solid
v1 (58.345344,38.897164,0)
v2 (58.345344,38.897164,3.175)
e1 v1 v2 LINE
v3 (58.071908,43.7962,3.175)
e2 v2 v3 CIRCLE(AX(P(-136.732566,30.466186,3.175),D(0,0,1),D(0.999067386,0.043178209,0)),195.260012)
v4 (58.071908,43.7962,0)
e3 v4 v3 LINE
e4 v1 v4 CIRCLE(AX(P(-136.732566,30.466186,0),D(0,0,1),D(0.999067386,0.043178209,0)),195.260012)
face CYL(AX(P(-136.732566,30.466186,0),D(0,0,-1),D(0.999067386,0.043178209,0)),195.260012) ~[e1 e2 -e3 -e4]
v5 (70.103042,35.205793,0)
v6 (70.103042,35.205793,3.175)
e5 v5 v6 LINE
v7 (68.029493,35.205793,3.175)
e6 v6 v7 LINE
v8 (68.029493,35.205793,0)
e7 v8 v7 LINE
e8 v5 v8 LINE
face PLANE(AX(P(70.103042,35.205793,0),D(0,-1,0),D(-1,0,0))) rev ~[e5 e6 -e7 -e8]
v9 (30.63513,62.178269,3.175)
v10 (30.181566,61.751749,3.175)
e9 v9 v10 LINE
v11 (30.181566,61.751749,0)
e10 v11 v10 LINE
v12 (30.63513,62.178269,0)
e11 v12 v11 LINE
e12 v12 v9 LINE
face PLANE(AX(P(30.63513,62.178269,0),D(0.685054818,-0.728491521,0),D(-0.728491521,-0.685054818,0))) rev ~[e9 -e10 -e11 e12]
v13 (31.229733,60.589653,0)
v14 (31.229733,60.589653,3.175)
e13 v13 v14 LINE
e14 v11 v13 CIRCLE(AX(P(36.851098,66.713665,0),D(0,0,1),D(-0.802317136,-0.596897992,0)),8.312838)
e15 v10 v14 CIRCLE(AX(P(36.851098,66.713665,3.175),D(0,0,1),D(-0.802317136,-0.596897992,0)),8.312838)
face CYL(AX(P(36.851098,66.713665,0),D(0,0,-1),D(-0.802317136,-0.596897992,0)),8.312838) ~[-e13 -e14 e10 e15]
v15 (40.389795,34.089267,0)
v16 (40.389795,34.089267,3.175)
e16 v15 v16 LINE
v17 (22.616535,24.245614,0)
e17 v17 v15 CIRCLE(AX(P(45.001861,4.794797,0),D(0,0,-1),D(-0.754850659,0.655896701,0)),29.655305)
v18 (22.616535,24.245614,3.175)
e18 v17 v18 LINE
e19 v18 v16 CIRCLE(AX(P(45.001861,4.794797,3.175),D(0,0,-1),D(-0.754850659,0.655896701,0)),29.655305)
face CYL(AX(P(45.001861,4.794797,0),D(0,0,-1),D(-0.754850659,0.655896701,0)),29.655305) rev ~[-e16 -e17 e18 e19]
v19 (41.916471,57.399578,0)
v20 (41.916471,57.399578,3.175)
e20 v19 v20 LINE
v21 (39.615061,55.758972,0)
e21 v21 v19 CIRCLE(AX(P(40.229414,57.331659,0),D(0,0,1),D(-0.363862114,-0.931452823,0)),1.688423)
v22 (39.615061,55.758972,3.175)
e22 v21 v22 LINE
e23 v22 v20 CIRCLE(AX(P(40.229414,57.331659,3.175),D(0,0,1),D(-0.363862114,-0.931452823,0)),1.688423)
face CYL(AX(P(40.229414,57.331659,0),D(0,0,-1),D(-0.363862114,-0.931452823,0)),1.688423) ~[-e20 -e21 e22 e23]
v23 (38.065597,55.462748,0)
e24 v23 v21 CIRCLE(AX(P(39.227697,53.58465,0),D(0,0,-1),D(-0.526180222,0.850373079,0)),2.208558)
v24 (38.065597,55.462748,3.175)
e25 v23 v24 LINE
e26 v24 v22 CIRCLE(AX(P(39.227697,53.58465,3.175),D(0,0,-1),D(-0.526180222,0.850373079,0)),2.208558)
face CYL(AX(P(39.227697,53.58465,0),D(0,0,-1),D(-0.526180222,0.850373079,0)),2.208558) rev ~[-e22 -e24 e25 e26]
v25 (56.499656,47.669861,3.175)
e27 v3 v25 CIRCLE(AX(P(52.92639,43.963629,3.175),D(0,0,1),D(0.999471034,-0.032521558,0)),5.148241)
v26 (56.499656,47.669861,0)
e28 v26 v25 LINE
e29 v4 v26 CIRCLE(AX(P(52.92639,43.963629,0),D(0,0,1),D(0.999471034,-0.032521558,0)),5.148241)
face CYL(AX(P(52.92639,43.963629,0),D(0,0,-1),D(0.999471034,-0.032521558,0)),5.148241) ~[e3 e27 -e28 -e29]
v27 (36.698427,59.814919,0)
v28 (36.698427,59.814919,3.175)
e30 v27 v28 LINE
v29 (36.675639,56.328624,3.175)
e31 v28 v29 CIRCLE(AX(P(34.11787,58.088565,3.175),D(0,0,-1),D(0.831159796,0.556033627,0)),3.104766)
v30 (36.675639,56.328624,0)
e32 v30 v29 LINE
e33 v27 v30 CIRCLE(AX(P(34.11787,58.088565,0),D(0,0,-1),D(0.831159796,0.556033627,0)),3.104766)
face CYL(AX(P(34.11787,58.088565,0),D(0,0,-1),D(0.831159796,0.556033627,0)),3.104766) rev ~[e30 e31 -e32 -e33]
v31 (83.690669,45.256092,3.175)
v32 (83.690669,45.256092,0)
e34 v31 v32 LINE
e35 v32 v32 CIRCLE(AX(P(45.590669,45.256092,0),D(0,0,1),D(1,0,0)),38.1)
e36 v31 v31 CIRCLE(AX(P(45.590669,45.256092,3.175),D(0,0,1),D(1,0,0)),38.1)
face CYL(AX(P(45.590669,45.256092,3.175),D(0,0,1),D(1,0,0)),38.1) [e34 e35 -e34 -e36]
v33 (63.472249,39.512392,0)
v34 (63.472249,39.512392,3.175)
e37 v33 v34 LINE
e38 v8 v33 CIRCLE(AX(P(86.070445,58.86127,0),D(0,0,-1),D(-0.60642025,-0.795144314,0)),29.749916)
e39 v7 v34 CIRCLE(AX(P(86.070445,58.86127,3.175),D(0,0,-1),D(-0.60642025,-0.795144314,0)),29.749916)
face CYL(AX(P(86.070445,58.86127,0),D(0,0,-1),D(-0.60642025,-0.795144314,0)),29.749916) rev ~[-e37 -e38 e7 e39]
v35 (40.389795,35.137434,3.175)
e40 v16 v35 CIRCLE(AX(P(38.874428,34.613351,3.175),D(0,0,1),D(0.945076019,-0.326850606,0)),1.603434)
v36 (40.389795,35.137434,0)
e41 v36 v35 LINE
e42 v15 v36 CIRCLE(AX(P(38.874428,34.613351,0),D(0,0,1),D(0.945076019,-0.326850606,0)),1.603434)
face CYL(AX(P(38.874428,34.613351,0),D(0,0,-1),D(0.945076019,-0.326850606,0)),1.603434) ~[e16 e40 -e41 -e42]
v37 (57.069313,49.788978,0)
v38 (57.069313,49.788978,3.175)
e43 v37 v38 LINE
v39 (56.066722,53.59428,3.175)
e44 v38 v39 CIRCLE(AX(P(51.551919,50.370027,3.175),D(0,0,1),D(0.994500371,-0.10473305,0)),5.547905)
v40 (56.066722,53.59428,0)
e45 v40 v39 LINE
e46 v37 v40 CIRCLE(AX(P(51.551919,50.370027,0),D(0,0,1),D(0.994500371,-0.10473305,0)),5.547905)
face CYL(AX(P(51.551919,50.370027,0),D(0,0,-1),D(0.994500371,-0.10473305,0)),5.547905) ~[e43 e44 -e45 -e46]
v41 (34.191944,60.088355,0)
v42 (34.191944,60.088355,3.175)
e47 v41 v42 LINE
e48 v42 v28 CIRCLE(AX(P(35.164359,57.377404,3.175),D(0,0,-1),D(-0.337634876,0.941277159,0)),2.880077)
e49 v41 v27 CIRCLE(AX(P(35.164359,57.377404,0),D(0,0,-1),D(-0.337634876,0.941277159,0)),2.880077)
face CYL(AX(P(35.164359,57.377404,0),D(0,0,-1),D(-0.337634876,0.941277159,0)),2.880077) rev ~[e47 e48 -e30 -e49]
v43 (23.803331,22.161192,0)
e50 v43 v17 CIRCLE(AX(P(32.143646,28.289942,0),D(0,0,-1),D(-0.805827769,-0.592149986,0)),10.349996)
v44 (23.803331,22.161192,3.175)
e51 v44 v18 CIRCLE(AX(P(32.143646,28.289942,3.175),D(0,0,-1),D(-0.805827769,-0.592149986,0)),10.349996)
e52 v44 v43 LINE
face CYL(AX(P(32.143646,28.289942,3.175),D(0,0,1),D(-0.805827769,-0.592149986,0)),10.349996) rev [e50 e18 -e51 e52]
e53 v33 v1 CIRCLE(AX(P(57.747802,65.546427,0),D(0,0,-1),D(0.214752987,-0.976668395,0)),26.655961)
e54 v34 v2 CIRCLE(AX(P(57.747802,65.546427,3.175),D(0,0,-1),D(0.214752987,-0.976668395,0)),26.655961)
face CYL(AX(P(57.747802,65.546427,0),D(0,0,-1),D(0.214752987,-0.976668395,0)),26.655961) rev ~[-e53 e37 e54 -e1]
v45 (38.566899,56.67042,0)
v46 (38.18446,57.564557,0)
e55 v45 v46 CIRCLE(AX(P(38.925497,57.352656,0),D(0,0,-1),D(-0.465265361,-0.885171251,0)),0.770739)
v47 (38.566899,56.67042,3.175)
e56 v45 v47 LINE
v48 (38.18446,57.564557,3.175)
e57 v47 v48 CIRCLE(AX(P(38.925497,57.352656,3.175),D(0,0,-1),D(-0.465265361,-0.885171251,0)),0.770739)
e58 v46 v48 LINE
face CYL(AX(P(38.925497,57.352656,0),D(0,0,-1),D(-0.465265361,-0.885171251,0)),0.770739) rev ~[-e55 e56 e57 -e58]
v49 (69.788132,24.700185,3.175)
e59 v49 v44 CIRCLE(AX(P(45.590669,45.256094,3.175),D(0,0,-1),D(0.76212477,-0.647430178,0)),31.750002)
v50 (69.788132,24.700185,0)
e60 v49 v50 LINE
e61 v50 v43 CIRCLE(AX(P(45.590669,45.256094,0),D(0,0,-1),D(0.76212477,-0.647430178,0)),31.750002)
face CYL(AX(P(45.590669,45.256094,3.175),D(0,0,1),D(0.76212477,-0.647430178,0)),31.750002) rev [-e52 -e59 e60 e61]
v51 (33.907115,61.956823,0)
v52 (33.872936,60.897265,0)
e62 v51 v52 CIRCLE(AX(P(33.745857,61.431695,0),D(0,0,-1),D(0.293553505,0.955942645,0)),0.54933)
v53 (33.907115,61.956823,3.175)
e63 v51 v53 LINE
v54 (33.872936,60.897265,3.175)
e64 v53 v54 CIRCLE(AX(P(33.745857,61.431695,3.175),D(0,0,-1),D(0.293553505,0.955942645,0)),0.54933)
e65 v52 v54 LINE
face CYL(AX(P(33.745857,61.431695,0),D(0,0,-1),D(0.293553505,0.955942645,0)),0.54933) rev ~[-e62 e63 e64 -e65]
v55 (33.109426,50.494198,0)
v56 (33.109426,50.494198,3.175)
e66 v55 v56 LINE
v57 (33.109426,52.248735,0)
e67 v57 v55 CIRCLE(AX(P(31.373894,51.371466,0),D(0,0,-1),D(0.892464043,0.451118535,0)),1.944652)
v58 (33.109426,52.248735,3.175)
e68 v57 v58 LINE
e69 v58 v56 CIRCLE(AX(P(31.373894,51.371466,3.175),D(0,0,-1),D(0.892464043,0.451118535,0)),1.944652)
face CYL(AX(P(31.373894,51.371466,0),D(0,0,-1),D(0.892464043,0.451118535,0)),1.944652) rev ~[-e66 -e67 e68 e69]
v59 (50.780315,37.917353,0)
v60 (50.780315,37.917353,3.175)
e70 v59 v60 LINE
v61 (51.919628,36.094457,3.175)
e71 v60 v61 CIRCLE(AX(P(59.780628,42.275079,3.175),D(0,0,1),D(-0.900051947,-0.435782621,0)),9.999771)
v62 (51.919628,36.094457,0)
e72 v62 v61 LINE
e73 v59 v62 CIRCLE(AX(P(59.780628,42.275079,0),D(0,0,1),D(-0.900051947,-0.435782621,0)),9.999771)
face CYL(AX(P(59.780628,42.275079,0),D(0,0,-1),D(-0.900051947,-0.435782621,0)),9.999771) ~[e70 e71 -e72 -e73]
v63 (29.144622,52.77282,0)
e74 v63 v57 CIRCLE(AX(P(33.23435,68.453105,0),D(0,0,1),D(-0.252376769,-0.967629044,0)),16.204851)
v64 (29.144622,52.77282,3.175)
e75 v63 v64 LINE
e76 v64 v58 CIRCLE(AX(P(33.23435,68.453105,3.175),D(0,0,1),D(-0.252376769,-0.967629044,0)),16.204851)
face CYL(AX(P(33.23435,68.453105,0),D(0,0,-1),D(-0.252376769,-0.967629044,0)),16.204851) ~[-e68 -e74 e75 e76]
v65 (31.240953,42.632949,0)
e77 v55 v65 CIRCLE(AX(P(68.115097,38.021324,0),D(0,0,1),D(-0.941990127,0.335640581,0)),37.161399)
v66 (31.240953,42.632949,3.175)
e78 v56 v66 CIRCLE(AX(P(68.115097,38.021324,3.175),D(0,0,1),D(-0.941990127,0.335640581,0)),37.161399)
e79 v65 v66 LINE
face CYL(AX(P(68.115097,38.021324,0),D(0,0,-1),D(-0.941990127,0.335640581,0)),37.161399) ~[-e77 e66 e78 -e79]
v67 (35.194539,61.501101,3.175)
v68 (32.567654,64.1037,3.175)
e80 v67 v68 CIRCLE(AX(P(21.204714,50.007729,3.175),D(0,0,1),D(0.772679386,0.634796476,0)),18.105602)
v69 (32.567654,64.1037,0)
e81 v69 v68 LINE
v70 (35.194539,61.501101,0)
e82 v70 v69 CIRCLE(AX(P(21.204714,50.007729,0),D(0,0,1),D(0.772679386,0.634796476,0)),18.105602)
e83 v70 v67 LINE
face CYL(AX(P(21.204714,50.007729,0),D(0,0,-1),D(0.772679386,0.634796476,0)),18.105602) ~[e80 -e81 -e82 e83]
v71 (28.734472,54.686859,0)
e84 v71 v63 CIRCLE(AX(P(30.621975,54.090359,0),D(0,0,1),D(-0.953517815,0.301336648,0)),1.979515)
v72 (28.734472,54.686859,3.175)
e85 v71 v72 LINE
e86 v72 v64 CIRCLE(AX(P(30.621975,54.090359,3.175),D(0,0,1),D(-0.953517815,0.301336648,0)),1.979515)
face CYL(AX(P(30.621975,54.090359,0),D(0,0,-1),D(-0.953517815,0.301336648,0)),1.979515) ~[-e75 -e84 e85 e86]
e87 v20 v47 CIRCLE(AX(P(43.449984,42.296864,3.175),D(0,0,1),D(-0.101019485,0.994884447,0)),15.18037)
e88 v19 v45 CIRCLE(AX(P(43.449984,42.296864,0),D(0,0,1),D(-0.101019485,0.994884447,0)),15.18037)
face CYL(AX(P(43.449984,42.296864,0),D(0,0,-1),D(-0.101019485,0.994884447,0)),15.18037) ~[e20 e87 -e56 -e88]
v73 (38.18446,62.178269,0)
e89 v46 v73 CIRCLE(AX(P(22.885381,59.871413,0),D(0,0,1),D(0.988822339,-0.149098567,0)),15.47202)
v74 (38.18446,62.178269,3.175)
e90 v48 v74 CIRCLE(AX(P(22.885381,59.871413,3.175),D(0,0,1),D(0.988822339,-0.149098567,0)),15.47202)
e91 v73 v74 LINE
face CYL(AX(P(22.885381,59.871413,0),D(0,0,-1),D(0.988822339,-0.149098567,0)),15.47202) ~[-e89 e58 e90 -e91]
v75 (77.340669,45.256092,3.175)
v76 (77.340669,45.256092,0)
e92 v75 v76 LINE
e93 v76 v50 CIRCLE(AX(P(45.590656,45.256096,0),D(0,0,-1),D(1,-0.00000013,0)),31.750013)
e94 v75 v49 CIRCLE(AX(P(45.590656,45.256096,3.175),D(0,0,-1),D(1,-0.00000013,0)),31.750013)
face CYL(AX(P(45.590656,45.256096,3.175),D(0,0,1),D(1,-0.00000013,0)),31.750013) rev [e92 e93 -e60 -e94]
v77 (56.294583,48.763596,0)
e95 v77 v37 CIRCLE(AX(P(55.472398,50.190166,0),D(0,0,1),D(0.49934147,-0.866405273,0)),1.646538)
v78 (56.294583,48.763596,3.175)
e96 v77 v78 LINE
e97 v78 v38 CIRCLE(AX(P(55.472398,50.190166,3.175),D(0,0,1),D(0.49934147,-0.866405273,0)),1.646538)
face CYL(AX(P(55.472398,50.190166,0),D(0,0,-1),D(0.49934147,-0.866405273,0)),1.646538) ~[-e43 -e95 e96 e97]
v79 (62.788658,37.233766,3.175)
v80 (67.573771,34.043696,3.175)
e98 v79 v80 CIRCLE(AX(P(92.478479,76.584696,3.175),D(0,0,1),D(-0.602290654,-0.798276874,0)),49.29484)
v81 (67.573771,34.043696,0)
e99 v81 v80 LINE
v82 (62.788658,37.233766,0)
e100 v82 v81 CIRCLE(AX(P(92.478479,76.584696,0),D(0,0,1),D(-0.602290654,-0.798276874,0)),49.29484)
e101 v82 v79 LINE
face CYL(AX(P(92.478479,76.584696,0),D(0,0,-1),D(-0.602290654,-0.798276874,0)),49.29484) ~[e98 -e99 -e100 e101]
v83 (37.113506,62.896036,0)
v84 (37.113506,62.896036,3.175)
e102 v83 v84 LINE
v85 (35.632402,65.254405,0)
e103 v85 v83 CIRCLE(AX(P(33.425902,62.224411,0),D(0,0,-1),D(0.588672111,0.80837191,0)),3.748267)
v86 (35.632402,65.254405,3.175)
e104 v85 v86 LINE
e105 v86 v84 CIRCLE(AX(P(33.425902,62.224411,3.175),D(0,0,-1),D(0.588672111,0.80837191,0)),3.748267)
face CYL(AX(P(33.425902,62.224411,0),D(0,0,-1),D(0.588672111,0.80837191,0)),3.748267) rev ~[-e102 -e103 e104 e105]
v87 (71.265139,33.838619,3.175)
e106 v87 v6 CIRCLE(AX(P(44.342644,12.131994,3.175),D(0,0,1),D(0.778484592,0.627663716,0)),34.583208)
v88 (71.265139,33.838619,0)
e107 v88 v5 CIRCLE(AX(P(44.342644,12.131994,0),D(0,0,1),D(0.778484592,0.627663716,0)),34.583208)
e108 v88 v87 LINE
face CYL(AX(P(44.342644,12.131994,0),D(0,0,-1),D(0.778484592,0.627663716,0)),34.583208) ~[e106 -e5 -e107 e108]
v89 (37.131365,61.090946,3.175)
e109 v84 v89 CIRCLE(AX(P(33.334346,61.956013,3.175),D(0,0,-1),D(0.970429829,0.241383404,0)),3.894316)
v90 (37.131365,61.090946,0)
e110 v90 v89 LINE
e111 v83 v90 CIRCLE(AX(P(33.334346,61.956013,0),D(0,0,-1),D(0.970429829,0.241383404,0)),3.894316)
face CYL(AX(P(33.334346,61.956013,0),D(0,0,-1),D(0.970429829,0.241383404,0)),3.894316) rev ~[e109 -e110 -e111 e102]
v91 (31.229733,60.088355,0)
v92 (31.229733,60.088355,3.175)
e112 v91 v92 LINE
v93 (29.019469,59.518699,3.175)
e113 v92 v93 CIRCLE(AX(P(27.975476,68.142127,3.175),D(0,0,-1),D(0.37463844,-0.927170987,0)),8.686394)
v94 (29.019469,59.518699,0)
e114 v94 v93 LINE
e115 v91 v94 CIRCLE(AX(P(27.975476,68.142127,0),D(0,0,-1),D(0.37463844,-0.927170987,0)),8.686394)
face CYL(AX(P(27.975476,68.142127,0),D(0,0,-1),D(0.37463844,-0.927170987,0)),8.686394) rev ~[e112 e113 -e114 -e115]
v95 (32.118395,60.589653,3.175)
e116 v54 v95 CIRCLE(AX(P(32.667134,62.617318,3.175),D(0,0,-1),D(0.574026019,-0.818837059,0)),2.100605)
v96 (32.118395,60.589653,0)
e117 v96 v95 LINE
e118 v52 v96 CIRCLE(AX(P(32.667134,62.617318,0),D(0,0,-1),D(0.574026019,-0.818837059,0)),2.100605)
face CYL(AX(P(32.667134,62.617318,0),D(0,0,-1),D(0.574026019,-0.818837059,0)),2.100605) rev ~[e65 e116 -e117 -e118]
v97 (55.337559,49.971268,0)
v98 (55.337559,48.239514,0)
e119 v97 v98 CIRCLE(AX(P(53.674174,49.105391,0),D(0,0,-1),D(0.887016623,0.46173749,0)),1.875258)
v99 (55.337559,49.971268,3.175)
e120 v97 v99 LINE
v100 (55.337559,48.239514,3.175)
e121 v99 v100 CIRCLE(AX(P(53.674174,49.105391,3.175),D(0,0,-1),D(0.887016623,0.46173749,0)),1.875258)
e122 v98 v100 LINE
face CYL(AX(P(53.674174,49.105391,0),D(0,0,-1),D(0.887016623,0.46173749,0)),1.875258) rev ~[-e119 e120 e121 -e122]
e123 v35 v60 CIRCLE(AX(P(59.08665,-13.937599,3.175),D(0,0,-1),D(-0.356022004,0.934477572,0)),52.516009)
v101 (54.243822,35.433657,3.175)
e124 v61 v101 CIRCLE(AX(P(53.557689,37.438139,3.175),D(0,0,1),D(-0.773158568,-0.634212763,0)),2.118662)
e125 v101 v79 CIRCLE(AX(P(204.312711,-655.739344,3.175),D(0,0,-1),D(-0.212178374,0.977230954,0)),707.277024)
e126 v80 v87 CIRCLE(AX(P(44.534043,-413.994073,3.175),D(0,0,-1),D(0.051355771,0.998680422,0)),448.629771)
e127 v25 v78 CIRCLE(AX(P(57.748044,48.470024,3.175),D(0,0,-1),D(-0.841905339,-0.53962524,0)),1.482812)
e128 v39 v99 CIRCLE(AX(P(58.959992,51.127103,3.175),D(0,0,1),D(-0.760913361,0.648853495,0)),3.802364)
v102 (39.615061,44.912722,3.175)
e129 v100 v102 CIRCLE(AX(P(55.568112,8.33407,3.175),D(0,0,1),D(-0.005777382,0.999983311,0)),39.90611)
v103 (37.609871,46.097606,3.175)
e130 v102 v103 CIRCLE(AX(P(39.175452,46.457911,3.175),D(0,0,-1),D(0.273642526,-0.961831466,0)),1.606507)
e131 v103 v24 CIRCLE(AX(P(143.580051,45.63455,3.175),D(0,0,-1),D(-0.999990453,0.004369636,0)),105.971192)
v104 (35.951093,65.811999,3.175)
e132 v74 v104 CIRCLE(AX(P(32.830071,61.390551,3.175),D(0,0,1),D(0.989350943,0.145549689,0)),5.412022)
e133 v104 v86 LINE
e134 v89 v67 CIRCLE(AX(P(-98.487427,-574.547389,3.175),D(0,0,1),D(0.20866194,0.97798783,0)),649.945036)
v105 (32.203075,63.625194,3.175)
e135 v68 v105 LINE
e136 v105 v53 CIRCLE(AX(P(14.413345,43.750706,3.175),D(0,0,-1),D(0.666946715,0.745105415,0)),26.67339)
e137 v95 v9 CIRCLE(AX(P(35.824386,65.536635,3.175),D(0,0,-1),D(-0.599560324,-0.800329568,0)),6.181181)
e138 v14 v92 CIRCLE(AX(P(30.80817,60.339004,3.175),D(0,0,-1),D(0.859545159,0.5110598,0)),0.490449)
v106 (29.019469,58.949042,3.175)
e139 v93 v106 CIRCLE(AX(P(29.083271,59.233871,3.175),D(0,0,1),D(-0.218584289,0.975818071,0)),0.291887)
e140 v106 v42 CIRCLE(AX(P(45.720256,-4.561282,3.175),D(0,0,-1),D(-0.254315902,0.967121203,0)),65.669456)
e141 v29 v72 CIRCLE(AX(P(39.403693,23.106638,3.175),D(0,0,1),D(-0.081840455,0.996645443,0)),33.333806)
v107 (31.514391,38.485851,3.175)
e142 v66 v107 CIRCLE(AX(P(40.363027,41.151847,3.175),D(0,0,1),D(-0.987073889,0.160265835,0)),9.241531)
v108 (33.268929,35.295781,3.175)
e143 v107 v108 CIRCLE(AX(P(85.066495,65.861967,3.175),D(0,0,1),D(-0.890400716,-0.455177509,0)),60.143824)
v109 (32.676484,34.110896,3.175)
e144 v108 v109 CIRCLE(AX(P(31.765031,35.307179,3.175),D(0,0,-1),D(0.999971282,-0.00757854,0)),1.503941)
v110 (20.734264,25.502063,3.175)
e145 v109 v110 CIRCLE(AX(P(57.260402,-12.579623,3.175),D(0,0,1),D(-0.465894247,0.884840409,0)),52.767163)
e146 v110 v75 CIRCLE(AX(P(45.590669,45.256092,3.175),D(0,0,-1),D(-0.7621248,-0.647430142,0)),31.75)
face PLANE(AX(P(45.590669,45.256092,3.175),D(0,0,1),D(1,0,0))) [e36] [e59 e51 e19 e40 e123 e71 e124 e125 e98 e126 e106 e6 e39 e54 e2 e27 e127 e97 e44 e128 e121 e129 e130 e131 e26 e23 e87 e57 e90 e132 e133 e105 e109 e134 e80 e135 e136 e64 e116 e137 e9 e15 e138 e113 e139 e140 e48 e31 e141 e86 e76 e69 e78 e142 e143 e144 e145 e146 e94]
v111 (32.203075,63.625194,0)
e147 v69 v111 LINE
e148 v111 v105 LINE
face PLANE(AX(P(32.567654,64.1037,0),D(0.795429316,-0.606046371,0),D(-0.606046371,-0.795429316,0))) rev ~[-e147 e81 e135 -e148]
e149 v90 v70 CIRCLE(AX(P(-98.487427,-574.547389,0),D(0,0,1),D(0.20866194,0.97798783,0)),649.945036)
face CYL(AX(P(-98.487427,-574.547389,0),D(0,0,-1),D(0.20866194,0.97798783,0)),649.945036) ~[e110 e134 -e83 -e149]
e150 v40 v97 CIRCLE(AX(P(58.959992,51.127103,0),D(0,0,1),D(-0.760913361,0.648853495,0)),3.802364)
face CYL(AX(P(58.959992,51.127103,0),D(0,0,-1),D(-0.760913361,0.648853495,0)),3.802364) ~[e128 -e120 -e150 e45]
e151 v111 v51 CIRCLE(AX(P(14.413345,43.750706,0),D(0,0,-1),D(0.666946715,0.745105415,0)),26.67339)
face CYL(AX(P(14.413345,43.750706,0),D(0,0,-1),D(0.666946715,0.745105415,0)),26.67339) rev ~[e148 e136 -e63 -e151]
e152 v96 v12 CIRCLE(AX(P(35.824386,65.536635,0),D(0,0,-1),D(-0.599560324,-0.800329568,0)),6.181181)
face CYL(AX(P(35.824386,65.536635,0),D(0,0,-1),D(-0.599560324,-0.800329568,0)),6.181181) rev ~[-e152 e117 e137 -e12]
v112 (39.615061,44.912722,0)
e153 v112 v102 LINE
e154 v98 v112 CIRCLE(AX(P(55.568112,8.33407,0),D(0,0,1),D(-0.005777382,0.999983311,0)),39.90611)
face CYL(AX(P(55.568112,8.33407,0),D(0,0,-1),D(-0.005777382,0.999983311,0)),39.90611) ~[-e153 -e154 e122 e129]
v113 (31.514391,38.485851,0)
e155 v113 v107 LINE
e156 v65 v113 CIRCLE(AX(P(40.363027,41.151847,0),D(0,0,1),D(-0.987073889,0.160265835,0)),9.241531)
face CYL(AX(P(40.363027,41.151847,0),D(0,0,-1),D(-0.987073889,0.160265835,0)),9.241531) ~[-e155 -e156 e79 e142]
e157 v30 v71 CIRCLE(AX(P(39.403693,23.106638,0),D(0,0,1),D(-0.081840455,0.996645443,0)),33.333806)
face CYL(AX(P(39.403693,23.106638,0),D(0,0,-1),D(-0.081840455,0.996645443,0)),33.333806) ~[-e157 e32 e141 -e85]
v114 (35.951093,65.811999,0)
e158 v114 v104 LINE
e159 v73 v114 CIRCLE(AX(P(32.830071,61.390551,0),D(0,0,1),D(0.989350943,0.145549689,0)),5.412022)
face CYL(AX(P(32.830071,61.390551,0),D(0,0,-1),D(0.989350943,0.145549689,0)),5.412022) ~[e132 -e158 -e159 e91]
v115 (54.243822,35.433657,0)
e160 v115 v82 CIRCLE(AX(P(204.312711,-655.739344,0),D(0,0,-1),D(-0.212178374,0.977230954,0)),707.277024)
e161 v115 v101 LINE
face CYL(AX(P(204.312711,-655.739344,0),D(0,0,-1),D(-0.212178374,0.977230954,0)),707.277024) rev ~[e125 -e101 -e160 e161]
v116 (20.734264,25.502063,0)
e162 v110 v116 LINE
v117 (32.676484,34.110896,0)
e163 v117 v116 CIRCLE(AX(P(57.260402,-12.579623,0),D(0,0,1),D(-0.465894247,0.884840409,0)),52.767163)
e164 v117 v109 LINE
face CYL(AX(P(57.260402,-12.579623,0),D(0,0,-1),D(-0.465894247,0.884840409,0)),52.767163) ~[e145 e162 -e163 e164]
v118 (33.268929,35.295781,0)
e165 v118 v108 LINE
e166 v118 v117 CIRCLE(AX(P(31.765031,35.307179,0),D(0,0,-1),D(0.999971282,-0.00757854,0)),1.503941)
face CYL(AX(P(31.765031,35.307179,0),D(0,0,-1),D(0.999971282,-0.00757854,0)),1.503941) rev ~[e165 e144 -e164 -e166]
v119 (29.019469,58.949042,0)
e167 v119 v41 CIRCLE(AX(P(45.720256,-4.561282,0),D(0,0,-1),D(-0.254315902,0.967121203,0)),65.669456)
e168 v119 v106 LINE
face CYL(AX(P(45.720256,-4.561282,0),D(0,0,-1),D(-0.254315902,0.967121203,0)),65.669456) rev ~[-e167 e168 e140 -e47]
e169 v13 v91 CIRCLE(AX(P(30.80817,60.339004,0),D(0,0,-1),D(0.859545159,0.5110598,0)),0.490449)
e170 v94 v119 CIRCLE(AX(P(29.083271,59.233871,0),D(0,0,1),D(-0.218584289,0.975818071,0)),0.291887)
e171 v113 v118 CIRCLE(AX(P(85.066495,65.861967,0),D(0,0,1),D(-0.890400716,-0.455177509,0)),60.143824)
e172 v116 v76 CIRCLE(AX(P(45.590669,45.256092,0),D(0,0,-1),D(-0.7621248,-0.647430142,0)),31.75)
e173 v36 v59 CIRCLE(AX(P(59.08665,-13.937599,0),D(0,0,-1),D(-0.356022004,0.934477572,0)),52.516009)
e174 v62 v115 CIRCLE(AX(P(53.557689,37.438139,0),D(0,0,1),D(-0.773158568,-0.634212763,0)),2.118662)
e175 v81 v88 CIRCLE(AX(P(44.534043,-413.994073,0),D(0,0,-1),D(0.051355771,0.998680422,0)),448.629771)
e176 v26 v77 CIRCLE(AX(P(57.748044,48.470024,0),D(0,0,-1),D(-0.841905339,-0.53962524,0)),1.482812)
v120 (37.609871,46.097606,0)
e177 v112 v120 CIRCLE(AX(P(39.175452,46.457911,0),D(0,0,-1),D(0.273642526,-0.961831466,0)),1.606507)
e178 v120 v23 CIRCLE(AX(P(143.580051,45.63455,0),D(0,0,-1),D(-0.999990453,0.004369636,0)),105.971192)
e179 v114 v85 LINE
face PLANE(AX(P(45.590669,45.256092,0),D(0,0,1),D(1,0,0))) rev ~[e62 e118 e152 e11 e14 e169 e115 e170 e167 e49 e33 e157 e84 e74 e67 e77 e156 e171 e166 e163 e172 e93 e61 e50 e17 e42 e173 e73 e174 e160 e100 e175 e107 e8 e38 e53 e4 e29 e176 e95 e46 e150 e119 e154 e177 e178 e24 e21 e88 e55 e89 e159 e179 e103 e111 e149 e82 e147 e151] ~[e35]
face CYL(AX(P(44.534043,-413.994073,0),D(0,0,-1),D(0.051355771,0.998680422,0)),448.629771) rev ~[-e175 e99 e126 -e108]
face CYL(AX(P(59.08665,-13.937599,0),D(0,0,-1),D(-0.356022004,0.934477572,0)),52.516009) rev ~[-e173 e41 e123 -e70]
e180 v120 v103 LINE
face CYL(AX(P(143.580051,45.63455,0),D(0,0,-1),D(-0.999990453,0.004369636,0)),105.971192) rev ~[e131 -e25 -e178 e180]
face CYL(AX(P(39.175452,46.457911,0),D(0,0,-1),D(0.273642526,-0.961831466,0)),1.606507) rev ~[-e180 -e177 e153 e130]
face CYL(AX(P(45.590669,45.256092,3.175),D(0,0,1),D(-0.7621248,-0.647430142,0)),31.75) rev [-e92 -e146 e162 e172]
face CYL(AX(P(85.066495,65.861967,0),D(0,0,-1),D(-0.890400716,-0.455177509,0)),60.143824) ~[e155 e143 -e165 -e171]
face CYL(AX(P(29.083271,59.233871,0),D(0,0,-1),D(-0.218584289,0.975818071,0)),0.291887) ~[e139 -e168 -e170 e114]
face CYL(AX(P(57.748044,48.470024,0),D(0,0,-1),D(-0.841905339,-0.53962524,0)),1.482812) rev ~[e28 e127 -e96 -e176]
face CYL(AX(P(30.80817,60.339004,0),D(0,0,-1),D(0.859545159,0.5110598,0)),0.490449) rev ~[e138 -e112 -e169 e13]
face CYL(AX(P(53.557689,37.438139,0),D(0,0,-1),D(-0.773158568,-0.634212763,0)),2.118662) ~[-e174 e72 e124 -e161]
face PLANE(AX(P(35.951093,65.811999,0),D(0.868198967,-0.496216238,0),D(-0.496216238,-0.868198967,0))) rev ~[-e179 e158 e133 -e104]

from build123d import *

# Parameters (mm, degrees)
F1_DEPTH = 3.175
F2_R     = 38.1
F3_DEPTH = 3.175


with BuildPart() as f1:
    # F0 (on Top) → F1 (new body)
    with BuildSketch(Plane.XY):
        with BuildLine():
            ThreePointArc((22.616535, 24.245614), (30.63387, 30.737001), (40.389795, 34.089267))
            ThreePointArc((40.389795, 34.089267), (40.477862, 34.61335), (40.389795, 35.137434))
            ThreePointArc((40.389795, 35.137434), (45.513697, 36.794109), (50.780315, 37.917353))
            ThreePointArc((50.780315, 37.917353), (51.300846, 36.975201), (51.919628, 36.094457))
            ThreePointArc((51.919628, 36.094457), (52.978288, 35.400243), (54.243822, 35.433657))
            ThreePointArc((54.243822, 35.433657), (58.513462, 36.346899), (62.788658, 37.233766))
            ThreePointArc((62.788658, 37.233766), (65.134653, 35.56889), (67.573771, 34.043696))
            ThreePointArc((67.573771, 34.043696), (69.419666, 33.94496), (71.265139, 33.838619))
            ThreePointArc((71.265139, 33.838619), (70.692959, 34.529744), (70.103042, 35.205793))
            Line((70.103042, 35.205793), (68.029493, 35.205793))
            ThreePointArc((68.029493, 35.205793), (65.637095, 37.238695), (63.472249, 39.512392))
            ThreePointArc((63.472249, 39.512392), (60.923729, 39.08034), (58.345344, 38.897164))
            ThreePointArc((58.345344, 38.897164), (58.224015, 41.347541), (58.071908, 43.7962))
            ThreePointArc((58.071908, 43.7962), (57.696674, 45.899805), (56.499656, 47.669861))
            ThreePointArc((56.499656, 47.669861), (56.290628, 48.196762), (56.294583, 48.763596))
            ThreePointArc((56.294583, 48.763596), (56.786119, 49.19758), (57.069313, 49.788978))
            ThreePointArc((57.069313, 49.788978), (56.916742, 51.783508), (56.066722, 53.59428))
            ThreePointArc((56.066722, 53.59428), (55.232372, 51.877319), (55.337559, 49.971268))
            ThreePointArc((55.337559, 49.971268), (55.549432, 49.105391), (55.337559, 48.239514))
            ThreePointArc((55.337559, 48.239514), (47.307111, 47.375759), (39.615061, 44.912722))
            ThreePointArc((39.615061, 44.912722), (38.358176, 45.074826), (37.609871, 46.097606))
            ThreePointArc((37.609871, 46.097606), (37.734106, 50.78522), (38.065597, 55.462748))
            ThreePointArc((38.065597, 55.462748), (38.812979, 55.753921), (39.615061, 55.758972))
            ThreePointArc((39.615061, 55.758972), (41.209501, 55.956812), (41.916471, 57.399578))
            ThreePointArc((41.916471, 57.399578), (40.221037, 57.129852), (38.566899, 56.67042))
            ThreePointArc((38.566899, 56.67042), (38.216858, 57.049557), (38.18446, 57.564557))
            ThreePointArc((38.18446, 57.564557), (38.357401, 59.871413), (38.18446, 62.178269))
            ThreePointArc((38.18446, 62.178269), (37.440835, 64.224424), (35.951093, 65.811999))
            Line((35.951093, 65.811999), (35.632402, 65.254405))
            ThreePointArc((35.632402, 65.254405), (36.600109, 64.217879), (37.113506, 62.896036))
            ThreePointArc((37.113506, 62.896036), (37.228471, 61.99454), (37.131365, 61.090946))
            ThreePointArc((37.131365, 61.090946), (36.163108, 61.296761), (35.194539, 61.501101))
            ThreePointArc((35.194539, 61.501101), (33.947714, 62.86964), (32.567654, 64.1037))
            Line((32.567654, 64.1037), (32.203075, 63.625194))
            ThreePointArc((32.203075, 63.625194), (33.07375, 62.810062), (33.907115, 61.956823))
            ThreePointArc((33.907115, 61.956823), (34.294902, 61.413983), (33.872936, 60.897265))
            ThreePointArc((33.872936, 60.897265), (33.029886, 60.548272), (32.118395, 60.589653))
            ThreePointArc((32.118395, 60.589653), (31.306391, 61.318256), (30.63513, 62.178269))
            Line((30.63513, 62.178269), (30.181566, 61.751749))
            ThreePointArc((30.181566, 61.751749), (30.678242, 61.14598), (31.229733, 60.589653))
            ThreePointArc((31.229733, 60.589653), (31.298619, 60.339004), (31.229733, 60.088355))
            ThreePointArc((31.229733, 60.088355), (30.143393, 59.730613), (29.019469, 59.518699))
            ThreePointArc((29.019469, 59.518699), (28.791384, 59.23387), (29.019469, 58.949042))
            ThreePointArc((29.019469, 58.949042), (31.594216, 59.570867), (34.191944, 60.088355))
            ThreePointArc((34.191944, 60.088355), (35.476697, 60.240495), (36.698427, 59.814919))
            ThreePointArc((36.698427, 59.814919), (37.22257, 58.068271), (36.675639, 56.328624))
            ThreePointArc((36.675639, 56.328624), (32.654946, 55.750122), (28.734472, 54.686859))
            ThreePointArc((28.734472, 54.686859), (28.6864, 53.675594), (29.144622, 52.77282))
            ThreePointArc((29.144622, 52.77282), (31.110795, 52.387996), (33.109426, 52.248735))
            ThreePointArc((33.109426, 52.248735), (33.318546, 51.371466), (33.109426, 50.494198))
            ThreePointArc((33.109426, 50.494198), (31.960889, 46.614509), (31.240953, 42.632949))
            ThreePointArc((31.240953, 42.632949), (31.141519, 40.543829), (31.514391, 38.485851))
            ThreePointArc((31.514391, 38.485851), (32.367516, 36.877537), (33.268929, 35.295781))
            ThreePointArc((33.268929, 35.295781), (33.110196, 34.634594), (32.676484, 34.110896))
            ThreePointArc((32.676484, 34.110896), (25.940865, 29.887543), (19.916199, 24.700185))
            Line((19.916199, 24.700185), (22.616535, 24.245614))
        make_face()
    extrude(amount=F1_DEPTH)

    # F2 (on face) → F3 (join)
    with BuildSketch(Plane.XY.offset(3.175)):
        with Locations((45.590669, 45.256092)):
            Circle(F2_R)
        with BuildLine():
            ThreePointArc((69.788132, 24.700185), (47.34104, 13.554378), (23.803331, 22.161192))
            ThreePointArc((23.803331, 22.161192), (22.563249, 23.397446), (21.393206, 24.700185))
            ThreePointArc((21.393206, 24.700185), (34.640941, 75.058206), (77.340669, 45.256092))
            ThreePointArc((77.340669, 45.256092), (75.392782, 34.306365), (69.788132, 24.700185))
        make_face(mode=Mode.SUBTRACT)
        with BuildLine():
            ThreePointArc((23.803331, 22.161192), (23.149346, 23.168907), (22.616535, 24.245614))
            Line((22.616535, 24.245614), (22.616535, 24.700185))
            Line((22.616535, 24.700185), (21.393206, 24.700185))
            ThreePointArc((21.393206, 24.700185), (22.563249, 23.397446), (23.803331, 22.161192))
        make_face()
    extrude(amount=-F3_DEPTH)


solid = f1.part
